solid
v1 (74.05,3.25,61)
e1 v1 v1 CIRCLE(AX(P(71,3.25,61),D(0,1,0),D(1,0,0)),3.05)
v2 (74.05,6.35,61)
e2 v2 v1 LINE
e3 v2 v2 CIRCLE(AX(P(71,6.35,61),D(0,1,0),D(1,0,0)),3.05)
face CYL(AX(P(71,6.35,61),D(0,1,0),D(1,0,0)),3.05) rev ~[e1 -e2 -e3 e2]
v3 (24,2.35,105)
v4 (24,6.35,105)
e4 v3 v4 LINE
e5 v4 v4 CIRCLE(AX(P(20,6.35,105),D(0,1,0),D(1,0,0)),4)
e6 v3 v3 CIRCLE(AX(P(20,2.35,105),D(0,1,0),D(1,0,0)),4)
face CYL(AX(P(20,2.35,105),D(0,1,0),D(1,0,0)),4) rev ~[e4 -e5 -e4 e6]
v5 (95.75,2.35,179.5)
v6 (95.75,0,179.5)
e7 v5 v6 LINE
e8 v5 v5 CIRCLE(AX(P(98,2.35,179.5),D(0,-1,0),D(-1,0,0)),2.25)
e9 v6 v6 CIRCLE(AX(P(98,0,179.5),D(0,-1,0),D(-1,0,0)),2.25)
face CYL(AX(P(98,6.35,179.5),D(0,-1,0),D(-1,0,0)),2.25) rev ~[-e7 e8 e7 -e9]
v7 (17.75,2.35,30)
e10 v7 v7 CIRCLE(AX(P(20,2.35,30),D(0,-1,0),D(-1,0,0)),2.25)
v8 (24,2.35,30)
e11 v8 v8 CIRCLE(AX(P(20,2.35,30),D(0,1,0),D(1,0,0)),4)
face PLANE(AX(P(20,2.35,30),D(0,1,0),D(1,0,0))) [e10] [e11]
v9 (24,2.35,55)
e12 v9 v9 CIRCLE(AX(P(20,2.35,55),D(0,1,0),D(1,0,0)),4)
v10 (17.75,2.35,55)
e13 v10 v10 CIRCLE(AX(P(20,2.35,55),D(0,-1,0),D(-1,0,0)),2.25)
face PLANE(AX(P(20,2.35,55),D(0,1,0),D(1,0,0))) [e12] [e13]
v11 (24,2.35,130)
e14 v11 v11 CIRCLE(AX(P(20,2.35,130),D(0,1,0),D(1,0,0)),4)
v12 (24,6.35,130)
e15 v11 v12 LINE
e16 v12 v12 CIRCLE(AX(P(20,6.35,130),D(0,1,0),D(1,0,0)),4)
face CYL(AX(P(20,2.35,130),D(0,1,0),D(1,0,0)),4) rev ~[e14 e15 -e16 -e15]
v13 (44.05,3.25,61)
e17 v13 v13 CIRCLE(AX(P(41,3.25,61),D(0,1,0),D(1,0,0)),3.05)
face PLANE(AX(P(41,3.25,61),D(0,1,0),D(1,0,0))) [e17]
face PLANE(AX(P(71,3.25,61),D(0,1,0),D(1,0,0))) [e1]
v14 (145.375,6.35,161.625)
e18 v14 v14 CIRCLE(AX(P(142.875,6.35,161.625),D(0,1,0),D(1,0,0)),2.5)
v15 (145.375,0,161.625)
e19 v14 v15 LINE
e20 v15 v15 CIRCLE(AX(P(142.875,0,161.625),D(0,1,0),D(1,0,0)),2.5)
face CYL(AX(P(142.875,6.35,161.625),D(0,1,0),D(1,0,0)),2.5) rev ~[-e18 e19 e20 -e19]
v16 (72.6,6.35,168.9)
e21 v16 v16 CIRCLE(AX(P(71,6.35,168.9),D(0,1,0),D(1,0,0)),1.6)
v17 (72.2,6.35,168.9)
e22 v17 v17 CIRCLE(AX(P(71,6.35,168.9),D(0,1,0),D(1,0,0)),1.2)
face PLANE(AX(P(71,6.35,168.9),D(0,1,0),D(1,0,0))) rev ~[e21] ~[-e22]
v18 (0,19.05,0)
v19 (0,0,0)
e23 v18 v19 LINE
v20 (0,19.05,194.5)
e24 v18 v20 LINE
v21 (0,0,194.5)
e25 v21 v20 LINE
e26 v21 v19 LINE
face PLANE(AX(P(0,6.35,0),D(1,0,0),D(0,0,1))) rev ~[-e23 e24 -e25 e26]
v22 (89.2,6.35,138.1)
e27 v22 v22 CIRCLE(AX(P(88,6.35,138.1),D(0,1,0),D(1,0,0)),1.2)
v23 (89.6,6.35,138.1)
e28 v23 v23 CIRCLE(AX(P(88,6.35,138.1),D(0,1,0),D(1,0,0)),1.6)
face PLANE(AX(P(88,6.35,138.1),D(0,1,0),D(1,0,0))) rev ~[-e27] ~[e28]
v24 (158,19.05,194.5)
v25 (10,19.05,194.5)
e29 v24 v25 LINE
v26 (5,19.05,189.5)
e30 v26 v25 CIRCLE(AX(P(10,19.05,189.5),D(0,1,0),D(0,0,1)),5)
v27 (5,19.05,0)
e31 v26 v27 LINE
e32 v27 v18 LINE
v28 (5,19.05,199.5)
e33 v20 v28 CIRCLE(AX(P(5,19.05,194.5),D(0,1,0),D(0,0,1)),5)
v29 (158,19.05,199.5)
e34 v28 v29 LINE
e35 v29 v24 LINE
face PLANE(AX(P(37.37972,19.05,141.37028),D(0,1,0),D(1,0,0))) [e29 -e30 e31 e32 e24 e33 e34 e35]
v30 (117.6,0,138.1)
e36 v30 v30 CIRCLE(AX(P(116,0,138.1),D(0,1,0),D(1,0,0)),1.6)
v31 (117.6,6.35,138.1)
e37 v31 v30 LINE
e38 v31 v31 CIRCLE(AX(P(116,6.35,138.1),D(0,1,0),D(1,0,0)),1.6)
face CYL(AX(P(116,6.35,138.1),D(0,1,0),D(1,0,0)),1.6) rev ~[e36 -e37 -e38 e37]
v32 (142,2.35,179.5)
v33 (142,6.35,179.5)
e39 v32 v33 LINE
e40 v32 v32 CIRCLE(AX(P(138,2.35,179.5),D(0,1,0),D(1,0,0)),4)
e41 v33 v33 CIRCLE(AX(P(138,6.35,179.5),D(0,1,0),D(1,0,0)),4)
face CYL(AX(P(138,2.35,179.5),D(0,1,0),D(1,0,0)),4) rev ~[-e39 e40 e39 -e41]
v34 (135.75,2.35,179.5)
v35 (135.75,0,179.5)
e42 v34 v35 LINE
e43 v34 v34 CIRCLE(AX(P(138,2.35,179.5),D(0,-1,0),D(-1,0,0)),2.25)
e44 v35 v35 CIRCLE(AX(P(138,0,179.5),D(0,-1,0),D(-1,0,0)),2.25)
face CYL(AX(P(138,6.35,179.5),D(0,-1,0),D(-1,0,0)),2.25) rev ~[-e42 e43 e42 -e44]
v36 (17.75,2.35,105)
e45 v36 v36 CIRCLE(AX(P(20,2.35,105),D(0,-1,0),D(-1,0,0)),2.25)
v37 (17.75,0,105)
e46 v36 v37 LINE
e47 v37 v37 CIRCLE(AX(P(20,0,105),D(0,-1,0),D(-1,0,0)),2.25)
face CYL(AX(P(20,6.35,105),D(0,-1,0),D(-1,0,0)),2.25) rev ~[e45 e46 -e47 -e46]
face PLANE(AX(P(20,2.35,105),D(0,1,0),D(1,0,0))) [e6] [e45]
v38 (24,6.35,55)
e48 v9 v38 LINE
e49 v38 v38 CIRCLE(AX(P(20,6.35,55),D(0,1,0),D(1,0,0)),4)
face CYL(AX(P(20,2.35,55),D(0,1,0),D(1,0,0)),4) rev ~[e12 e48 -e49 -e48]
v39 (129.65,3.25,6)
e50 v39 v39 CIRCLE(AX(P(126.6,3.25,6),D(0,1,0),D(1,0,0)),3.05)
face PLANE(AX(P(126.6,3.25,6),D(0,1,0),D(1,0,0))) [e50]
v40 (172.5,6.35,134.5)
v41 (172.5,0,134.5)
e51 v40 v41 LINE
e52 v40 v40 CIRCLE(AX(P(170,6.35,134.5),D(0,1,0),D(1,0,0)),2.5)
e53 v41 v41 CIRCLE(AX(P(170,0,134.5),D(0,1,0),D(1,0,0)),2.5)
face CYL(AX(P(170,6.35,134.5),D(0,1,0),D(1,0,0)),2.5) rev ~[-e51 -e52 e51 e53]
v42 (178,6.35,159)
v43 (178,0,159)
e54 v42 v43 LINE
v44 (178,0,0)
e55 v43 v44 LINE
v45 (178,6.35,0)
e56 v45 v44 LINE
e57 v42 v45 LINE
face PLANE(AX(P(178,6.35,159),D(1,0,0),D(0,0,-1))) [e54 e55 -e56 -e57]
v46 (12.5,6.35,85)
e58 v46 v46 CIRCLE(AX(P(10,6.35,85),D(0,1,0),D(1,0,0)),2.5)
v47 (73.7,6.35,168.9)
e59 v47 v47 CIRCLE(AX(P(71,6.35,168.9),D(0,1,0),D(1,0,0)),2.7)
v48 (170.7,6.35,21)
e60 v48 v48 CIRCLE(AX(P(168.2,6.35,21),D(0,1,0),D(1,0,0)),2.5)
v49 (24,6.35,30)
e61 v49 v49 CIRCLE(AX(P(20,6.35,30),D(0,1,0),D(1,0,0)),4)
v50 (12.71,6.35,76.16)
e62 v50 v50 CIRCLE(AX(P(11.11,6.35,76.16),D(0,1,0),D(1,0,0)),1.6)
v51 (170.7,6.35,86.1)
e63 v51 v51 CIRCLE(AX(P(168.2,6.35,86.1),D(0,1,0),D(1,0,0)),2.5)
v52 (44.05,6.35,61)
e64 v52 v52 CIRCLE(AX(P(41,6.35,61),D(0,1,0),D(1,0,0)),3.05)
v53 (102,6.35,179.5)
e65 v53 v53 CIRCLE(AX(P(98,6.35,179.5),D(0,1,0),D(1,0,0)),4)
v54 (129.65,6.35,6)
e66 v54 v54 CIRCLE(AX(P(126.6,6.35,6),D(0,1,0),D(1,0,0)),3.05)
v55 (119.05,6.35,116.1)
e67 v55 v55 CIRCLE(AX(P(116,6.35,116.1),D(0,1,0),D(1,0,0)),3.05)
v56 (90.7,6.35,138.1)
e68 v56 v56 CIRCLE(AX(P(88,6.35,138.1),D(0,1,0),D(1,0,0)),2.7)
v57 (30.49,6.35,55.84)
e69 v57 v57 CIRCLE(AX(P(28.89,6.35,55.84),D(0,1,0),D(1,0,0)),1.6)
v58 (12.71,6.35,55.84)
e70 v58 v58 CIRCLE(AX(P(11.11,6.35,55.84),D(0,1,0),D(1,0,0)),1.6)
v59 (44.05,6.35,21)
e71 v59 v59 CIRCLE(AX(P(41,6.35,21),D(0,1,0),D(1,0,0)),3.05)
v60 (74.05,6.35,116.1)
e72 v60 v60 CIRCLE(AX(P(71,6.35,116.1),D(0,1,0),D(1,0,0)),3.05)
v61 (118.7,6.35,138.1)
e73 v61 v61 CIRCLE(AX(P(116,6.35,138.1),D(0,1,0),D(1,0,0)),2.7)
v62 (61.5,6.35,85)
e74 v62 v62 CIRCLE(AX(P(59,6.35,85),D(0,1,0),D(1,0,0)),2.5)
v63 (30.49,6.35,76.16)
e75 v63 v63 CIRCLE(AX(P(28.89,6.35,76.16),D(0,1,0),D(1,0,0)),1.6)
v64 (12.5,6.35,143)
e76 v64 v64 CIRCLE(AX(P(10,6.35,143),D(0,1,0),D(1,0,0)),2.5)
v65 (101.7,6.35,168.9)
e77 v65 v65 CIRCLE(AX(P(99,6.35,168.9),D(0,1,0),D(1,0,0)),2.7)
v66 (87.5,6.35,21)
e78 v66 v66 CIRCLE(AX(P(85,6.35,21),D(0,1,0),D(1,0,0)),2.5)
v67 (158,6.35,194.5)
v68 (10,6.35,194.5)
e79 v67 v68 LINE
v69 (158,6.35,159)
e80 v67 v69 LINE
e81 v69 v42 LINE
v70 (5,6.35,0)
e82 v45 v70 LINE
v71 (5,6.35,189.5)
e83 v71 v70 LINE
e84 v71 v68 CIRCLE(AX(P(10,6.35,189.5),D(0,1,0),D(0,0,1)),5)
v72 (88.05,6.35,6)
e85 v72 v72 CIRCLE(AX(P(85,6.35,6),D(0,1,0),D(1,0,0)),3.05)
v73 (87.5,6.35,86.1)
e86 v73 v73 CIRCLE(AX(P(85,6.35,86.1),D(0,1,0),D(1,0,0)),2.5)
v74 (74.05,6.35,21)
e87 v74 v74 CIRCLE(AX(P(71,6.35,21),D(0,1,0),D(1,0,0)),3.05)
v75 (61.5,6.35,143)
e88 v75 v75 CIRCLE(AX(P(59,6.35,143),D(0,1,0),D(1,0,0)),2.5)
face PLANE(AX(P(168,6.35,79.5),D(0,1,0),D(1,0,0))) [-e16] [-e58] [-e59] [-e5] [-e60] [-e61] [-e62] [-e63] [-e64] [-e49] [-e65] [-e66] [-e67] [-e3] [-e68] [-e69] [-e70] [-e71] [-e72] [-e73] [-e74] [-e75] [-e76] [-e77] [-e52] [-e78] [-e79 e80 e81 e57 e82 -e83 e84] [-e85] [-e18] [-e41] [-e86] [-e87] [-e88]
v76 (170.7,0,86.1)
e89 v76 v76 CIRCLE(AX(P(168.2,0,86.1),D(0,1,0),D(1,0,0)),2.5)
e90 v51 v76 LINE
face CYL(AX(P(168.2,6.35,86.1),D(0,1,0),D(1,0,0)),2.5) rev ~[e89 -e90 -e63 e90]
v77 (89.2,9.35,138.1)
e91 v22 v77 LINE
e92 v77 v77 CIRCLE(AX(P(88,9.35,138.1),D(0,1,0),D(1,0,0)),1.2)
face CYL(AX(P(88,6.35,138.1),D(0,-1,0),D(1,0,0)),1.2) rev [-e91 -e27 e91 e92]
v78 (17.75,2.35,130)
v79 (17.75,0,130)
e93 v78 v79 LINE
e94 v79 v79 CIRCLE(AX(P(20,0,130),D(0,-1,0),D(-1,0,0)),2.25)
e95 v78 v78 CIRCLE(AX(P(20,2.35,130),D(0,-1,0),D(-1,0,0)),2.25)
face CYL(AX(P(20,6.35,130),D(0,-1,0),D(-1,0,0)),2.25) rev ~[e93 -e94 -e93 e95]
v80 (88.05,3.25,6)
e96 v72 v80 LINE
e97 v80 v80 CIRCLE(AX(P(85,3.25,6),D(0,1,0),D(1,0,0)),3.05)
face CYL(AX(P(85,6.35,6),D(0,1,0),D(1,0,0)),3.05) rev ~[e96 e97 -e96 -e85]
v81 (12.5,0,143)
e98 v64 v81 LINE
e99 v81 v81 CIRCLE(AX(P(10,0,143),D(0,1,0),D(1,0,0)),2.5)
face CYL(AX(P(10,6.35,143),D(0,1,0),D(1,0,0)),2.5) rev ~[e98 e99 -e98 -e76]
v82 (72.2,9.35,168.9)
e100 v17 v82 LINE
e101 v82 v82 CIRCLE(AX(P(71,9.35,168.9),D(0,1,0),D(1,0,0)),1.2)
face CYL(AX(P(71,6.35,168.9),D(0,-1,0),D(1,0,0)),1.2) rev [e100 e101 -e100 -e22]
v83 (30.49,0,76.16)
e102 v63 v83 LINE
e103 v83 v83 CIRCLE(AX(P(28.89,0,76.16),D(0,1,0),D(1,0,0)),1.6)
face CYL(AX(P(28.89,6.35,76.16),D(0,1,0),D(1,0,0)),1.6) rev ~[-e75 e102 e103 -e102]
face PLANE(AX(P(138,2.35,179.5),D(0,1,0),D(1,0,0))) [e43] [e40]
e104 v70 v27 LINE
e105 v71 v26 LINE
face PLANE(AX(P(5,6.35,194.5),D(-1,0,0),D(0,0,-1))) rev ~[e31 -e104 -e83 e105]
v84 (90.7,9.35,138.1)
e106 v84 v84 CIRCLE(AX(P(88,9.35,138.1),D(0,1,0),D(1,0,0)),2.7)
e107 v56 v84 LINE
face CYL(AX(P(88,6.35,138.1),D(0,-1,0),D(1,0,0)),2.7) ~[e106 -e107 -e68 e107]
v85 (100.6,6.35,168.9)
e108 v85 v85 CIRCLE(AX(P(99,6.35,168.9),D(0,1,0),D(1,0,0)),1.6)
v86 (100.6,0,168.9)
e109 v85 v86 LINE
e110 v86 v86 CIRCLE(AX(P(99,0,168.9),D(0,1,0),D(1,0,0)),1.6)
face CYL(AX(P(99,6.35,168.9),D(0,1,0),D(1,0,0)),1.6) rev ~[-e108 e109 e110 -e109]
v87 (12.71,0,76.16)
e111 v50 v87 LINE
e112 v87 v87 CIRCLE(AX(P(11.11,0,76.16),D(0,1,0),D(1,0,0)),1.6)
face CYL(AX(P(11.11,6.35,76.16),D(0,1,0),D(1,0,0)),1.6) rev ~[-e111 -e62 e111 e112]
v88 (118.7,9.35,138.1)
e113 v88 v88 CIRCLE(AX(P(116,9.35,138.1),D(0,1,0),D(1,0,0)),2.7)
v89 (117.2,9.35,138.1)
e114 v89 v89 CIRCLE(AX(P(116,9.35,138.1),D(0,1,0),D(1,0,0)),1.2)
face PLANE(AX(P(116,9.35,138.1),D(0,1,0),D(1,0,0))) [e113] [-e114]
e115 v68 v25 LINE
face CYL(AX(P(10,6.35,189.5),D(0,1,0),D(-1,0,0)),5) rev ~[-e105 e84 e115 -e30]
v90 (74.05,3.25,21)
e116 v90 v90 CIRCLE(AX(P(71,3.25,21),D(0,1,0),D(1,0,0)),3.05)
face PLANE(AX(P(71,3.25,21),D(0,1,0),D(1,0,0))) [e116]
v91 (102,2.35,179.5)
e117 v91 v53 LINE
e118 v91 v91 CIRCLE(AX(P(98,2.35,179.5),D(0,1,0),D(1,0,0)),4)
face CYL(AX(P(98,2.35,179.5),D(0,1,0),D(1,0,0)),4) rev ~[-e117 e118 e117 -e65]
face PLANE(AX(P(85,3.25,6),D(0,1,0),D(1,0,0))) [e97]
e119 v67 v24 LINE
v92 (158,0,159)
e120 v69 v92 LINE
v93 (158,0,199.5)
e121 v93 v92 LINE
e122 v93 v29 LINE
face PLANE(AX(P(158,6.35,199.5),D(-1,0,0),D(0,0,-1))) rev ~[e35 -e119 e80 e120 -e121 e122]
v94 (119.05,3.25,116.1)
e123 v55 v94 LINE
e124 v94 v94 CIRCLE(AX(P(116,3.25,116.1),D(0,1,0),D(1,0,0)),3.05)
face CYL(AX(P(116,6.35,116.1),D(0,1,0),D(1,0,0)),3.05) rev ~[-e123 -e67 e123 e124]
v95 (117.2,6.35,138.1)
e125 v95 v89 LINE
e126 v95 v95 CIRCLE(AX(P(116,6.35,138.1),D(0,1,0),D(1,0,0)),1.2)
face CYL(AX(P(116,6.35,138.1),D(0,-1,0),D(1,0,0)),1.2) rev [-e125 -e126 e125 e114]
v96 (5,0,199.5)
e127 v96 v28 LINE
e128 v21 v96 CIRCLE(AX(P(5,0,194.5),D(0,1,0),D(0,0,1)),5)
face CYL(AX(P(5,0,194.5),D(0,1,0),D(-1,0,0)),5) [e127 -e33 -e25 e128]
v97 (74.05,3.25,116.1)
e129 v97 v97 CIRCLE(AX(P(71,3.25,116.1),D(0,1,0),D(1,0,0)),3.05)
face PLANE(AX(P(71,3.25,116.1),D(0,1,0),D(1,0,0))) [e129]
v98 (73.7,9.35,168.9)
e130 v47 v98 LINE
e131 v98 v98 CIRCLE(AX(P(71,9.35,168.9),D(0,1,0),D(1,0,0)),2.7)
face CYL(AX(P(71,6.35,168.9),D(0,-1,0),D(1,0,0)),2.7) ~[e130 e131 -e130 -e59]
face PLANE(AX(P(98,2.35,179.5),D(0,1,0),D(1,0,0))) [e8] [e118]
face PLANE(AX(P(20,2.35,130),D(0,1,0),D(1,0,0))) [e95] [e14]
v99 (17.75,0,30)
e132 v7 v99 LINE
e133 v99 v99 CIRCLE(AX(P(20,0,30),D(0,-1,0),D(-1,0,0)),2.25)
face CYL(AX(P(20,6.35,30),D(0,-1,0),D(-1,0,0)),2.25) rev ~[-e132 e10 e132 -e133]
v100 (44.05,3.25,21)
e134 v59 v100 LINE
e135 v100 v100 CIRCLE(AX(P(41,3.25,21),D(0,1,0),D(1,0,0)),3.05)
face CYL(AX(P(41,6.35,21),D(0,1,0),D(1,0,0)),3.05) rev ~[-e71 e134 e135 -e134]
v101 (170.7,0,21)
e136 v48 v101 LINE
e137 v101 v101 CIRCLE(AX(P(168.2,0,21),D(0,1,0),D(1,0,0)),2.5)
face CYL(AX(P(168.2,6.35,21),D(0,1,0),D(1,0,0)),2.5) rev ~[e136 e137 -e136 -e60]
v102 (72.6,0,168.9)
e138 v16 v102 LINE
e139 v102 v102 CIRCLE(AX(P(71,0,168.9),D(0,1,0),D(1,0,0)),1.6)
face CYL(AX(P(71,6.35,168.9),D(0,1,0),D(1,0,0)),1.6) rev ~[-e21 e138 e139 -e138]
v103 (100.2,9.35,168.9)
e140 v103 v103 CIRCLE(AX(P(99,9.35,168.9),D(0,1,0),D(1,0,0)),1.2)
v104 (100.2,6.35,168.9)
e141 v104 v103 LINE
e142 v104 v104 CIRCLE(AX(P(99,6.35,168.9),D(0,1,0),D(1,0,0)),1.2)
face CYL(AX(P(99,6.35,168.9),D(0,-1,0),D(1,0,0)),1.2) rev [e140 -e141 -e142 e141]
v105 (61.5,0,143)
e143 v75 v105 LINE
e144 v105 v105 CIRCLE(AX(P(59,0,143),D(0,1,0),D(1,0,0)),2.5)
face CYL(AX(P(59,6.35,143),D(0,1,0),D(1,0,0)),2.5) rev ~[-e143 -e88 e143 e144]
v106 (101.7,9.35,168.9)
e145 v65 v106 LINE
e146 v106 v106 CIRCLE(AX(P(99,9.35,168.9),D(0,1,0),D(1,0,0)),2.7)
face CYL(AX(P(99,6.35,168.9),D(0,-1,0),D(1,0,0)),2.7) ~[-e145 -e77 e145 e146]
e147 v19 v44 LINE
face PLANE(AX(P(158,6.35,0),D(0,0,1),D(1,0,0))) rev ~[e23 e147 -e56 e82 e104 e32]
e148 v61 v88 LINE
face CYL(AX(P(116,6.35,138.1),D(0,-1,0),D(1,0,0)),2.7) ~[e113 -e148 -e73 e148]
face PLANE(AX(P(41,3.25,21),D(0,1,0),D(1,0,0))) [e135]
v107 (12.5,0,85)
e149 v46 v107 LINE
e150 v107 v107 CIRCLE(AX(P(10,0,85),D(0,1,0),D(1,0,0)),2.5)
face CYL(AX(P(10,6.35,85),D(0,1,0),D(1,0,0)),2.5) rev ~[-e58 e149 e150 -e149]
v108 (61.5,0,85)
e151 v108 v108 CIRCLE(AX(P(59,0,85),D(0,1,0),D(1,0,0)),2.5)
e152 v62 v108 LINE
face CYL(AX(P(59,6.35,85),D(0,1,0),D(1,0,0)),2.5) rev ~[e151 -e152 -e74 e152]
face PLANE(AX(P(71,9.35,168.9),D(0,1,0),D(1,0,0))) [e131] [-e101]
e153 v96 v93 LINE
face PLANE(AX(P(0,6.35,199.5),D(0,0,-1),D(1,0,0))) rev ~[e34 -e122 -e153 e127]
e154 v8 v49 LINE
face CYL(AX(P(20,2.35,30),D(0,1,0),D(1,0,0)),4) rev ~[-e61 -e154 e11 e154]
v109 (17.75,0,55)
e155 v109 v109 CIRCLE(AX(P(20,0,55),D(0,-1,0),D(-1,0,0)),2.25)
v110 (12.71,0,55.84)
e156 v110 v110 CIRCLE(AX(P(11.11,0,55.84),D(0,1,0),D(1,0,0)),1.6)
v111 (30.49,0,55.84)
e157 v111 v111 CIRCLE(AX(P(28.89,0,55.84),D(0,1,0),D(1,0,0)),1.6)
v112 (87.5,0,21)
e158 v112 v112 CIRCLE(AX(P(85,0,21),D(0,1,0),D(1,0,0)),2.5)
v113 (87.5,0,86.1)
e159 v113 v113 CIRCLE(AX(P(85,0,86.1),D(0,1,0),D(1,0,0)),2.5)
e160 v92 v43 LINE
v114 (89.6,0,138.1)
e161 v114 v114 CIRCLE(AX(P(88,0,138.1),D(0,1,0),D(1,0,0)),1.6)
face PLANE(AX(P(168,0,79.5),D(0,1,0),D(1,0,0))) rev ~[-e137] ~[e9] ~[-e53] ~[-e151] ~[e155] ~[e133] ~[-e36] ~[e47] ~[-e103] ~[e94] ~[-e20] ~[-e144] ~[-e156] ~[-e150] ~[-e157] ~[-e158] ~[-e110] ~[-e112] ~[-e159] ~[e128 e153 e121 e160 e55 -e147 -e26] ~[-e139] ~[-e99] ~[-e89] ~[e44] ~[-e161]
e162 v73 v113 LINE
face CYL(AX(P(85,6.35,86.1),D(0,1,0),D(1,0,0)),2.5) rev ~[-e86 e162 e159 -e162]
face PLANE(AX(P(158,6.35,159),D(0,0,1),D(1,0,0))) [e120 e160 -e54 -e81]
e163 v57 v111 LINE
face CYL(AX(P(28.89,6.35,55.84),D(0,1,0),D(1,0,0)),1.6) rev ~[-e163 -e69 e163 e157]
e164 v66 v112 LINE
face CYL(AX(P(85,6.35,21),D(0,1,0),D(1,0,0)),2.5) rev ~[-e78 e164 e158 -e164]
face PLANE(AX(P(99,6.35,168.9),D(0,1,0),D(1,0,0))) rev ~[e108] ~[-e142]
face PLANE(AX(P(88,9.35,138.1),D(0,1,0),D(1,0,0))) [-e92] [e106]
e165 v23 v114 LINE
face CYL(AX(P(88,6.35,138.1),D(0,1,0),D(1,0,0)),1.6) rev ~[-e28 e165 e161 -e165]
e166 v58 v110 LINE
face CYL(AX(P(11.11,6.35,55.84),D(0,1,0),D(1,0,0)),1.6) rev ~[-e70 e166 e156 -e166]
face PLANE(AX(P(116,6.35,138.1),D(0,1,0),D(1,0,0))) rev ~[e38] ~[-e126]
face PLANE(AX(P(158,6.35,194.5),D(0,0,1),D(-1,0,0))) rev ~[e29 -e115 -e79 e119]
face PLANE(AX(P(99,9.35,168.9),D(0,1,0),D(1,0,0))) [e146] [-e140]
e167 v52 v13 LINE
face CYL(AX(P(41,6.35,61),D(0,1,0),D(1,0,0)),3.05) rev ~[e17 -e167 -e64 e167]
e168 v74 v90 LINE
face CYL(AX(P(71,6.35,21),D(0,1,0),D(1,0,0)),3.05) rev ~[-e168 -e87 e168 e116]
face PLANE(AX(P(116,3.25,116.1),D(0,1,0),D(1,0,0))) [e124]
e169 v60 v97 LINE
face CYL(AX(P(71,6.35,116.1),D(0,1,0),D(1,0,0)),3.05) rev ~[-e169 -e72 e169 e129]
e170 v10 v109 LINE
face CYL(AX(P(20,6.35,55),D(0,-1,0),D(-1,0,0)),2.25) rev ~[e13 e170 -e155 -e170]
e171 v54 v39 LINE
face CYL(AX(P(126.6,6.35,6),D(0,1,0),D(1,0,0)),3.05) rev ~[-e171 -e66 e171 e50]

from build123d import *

# Parameters (mm, degrees)
SKETCH1_W                      = 158
SKETCH1_H                      = 199.5
BOSS_EXTRUDE1_DEPTH            = 6.35
BOSS_EXTRUDE2_DEPTH            = 12.7
CBORE_FOR_M4_SHCS1_D           = 4.5
CBORE_FOR_M4_SHCS1_DEPTH       = 6.35
CBORE_FOR_M4_SHCS1_CBORE_D     = 8
CBORE_FOR_M4_SHCS1_CBORE_DEPTH = 4
FILLET2_R                      = 5
SKETCH11_W                     = 20
SKETCH11_H                     = 159
BOSS_EXTRUDE3_DEPTH            = 6.35
SKETCH12_R                     = 2.5
NUCLEO_DEPTH                   = 7.35
SKETCH13_R                     = 2.5
PIHOLDER_DEPTH                 = 7.35
SKETCH14_R                     = 2.5
ESTOP_DEPTH                    = 7.35
SKETCH15_R                     = 2.7
SKETCH15_R_2                   = 1.2
BUCKEXTRUDE_DEPTH              = 3
SKETCH16_R                     = 1.6
BUCKCUT_DEPTH                  = 7.35
LPATTERN1_COUNT                = 2
LPATTERN1_PITCH                = 28
SKETCH17_R                     = 1.6
IMU_DEPTH                      = 7.35
SKETCH19_R                     = 3.05
CUT_EXTRUDE8_DEPTH             = 3.1


with BuildPart() as part:
    # Sketch1 → Boss-Extrude1 (new body)
    with BuildSketch(Plane(origin=(0, 0, 0), x_dir=(1, 0, 0), z_dir=(0, 1, 0))):
        with Locations((79, -99.75)):
            Rectangle(SKETCH1_W, SKETCH1_H)
    extrude(amount=BOSS_EXTRUDE1_DEPTH)

    # Sketch3 → Boss-Extrude2 (add)
    with BuildSketch(Plane(origin=(0, 6.35, 0), x_dir=(1, 0, 0), z_dir=(0, 1, 0))):
        Polygon((0, 0), (0, -199.5), (158, -199.5), (158, -194.5), (5, -194.5), (5, 0), align=None)
    extrude(amount=BOSS_EXTRUDE2_DEPTH)

    # CBORE for M4 SHCS1
    with Locations(Plane(origin=(0, 6.35, 0), x_dir=(1, 0, 0), z_dir=(0, 1, 0))):
        with Locations((20, -55), (98, -179.5), (138, -179.5), (20, -130), (20, -105), (20, -30)):
            CounterBoreHole(CBORE_FOR_M4_SHCS1_D / 2, CBORE_FOR_M4_SHCS1_CBORE_D / 2, CBORE_FOR_M4_SHCS1_CBORE_DEPTH, depth=CBORE_FOR_M4_SHCS1_DEPTH)

    # Fillet2
    fillet2_edges = [part.edges().sort_by_distance(p)[0] for p in [
        (5, 12.7, 194.5),
        (0, 9.525, 199.5),
    ]]
    fillet(fillet2_edges, radius=FILLET2_R)

    # Sketch11 → Boss-Extrude3 (add)
    with BuildSketch(Plane(origin=(0, 6.35, 0), x_dir=(1, 0, 0), z_dir=(0, 1, 0))):
        with Locations((168, -79.5)):
            Rectangle(SKETCH11_W, SKETCH11_H)
    extrude(amount=-BOSS_EXTRUDE3_DEPTH)

    # Sketch12 → Nucleo (cut, through all)
    with BuildSketch(Plane(origin=(0, 6.35, 0), x_dir=(1, 0, 0), z_dir=(0, 1, 0))):
        with Locations((168.2, -21)):
            Circle(SKETCH12_R)
        with Locations((168.2, -86.1)):
            Circle(SKETCH12_R)
        with Locations((85, -86.1)):
            Circle(SKETCH12_R)
        with Locations((85, -21)):
            Circle(SKETCH12_R)
    extrude(amount=-NUCLEO_DEPTH, mode=Mode.SUBTRACT)

    # Sketch13 → PIHolder (cut, through all)
    with BuildSketch(Plane(origin=(0, 6.35, 0), x_dir=(1, 0, 0), z_dir=(0, 1, 0))):
        with Locations((59, -143)):
            Circle(SKETCH13_R)
        with Locations((10, -143)):
            Circle(SKETCH13_R)
        with Locations((10, -85)):
            Circle(SKETCH13_R)
        with Locations((59, -85)):
            Circle(SKETCH13_R)
    extrude(amount=-PIHOLDER_DEPTH, mode=Mode.SUBTRACT)

    # Sketch14 → ESTOP (cut, through all)
    with BuildSketch(Plane(origin=(0, 6.35, 0), x_dir=(1, 0, 0), z_dir=(0, 1, 0))):
        with Locations((170, -134.5)):
            Circle(SKETCH14_R)
        with Locations((142.875, -161.625)):
            Circle(SKETCH14_R)
    extrude(amount=-ESTOP_DEPTH, mode=Mode.SUBTRACT)

    # Sketch15 → BuckExtrude (add)
    with BuildSketch(Plane(origin=(0, 6.35, 0), x_dir=(1, 0, 0), z_dir=(0, 1, 0))):
        with Locations((116, -138.1)):
            Circle(SKETCH15_R)
        with Locations((116, -138.1)):
            Circle(SKETCH15_R_2, mode=Mode.SUBTRACT)
        with Locations((99, -168.9)):
            Circle(SKETCH15_R)
        with Locations((99, -168.9)):
            Circle(SKETCH15_R_2, mode=Mode.SUBTRACT)
    buckextrude = extrude(amount=BUCKEXTRUDE_DEPTH)

    # Sketch16 → BuckCut (cut, through all)
    with BuildSketch(Plane(origin=(0, 6.35, 0), x_dir=(1, 0, 0), z_dir=(0, 1, 0))):
        with Locations((99, -168.9)):
            Circle(SKETCH16_R)
        with Locations((116, -138.1)):
            Circle(SKETCH16_R)
    buckcut = extrude(amount=-BUCKCUT_DEPTH, mode=Mode.SUBTRACT)

    # LPattern1: BuckExtrude, BuckCut ×2
    with Locations(*[(-i * LPATTERN1_PITCH, 0, 0) for i in range(1, LPATTERN1_COUNT)]):
        add(buckextrude)
        add(buckcut, mode=Mode.SUBTRACT)

    # Sketch17 → IMU (cut, through all)
    with BuildSketch(Plane(origin=(0, 6.35, 0), x_dir=(1, 0, 0), z_dir=(0, 1, 0))):
        with Locations((28.89, -55.84)):
            Circle(SKETCH17_R)
        with Locations((28.89, -76.16)):
            Circle(SKETCH17_R)
        with Locations((11.11, -76.16)):
            Circle(SKETCH17_R)
        with Locations((11.11, -55.84)):
            Circle(SKETCH17_R)
    extrude(amount=-IMU_DEPTH, mode=Mode.SUBTRACT)

    # Sketch19 → Cut-Extrude8 (cut)
    with BuildSketch(Plane(origin=(0, 6.35, 0), x_dir=(1, 0, 0), z_dir=(0, 1, 0))):
        with Locations((126.6, -6)):
            Circle(SKETCH19_R)
        with Locations((85, -6)):
            Circle(SKETCH19_R)
        with Locations((116, -116.1)):
            Circle(SKETCH19_R)
        with Locations((71, -116.1)):
            Circle(SKETCH19_R)
        with Locations((71, -21)):
            Circle(SKETCH19_R)
        with Locations((71, -61)):
            Circle(SKETCH19_R)
        with Locations((41, -61)):
            Circle(SKETCH19_R)
        with Locations((41, -21)):
            Circle(SKETCH19_R)
    extrude(amount=-CUT_EXTRUDE8_DEPTH, mode=Mode.SUBTRACT)


solid = part.part
